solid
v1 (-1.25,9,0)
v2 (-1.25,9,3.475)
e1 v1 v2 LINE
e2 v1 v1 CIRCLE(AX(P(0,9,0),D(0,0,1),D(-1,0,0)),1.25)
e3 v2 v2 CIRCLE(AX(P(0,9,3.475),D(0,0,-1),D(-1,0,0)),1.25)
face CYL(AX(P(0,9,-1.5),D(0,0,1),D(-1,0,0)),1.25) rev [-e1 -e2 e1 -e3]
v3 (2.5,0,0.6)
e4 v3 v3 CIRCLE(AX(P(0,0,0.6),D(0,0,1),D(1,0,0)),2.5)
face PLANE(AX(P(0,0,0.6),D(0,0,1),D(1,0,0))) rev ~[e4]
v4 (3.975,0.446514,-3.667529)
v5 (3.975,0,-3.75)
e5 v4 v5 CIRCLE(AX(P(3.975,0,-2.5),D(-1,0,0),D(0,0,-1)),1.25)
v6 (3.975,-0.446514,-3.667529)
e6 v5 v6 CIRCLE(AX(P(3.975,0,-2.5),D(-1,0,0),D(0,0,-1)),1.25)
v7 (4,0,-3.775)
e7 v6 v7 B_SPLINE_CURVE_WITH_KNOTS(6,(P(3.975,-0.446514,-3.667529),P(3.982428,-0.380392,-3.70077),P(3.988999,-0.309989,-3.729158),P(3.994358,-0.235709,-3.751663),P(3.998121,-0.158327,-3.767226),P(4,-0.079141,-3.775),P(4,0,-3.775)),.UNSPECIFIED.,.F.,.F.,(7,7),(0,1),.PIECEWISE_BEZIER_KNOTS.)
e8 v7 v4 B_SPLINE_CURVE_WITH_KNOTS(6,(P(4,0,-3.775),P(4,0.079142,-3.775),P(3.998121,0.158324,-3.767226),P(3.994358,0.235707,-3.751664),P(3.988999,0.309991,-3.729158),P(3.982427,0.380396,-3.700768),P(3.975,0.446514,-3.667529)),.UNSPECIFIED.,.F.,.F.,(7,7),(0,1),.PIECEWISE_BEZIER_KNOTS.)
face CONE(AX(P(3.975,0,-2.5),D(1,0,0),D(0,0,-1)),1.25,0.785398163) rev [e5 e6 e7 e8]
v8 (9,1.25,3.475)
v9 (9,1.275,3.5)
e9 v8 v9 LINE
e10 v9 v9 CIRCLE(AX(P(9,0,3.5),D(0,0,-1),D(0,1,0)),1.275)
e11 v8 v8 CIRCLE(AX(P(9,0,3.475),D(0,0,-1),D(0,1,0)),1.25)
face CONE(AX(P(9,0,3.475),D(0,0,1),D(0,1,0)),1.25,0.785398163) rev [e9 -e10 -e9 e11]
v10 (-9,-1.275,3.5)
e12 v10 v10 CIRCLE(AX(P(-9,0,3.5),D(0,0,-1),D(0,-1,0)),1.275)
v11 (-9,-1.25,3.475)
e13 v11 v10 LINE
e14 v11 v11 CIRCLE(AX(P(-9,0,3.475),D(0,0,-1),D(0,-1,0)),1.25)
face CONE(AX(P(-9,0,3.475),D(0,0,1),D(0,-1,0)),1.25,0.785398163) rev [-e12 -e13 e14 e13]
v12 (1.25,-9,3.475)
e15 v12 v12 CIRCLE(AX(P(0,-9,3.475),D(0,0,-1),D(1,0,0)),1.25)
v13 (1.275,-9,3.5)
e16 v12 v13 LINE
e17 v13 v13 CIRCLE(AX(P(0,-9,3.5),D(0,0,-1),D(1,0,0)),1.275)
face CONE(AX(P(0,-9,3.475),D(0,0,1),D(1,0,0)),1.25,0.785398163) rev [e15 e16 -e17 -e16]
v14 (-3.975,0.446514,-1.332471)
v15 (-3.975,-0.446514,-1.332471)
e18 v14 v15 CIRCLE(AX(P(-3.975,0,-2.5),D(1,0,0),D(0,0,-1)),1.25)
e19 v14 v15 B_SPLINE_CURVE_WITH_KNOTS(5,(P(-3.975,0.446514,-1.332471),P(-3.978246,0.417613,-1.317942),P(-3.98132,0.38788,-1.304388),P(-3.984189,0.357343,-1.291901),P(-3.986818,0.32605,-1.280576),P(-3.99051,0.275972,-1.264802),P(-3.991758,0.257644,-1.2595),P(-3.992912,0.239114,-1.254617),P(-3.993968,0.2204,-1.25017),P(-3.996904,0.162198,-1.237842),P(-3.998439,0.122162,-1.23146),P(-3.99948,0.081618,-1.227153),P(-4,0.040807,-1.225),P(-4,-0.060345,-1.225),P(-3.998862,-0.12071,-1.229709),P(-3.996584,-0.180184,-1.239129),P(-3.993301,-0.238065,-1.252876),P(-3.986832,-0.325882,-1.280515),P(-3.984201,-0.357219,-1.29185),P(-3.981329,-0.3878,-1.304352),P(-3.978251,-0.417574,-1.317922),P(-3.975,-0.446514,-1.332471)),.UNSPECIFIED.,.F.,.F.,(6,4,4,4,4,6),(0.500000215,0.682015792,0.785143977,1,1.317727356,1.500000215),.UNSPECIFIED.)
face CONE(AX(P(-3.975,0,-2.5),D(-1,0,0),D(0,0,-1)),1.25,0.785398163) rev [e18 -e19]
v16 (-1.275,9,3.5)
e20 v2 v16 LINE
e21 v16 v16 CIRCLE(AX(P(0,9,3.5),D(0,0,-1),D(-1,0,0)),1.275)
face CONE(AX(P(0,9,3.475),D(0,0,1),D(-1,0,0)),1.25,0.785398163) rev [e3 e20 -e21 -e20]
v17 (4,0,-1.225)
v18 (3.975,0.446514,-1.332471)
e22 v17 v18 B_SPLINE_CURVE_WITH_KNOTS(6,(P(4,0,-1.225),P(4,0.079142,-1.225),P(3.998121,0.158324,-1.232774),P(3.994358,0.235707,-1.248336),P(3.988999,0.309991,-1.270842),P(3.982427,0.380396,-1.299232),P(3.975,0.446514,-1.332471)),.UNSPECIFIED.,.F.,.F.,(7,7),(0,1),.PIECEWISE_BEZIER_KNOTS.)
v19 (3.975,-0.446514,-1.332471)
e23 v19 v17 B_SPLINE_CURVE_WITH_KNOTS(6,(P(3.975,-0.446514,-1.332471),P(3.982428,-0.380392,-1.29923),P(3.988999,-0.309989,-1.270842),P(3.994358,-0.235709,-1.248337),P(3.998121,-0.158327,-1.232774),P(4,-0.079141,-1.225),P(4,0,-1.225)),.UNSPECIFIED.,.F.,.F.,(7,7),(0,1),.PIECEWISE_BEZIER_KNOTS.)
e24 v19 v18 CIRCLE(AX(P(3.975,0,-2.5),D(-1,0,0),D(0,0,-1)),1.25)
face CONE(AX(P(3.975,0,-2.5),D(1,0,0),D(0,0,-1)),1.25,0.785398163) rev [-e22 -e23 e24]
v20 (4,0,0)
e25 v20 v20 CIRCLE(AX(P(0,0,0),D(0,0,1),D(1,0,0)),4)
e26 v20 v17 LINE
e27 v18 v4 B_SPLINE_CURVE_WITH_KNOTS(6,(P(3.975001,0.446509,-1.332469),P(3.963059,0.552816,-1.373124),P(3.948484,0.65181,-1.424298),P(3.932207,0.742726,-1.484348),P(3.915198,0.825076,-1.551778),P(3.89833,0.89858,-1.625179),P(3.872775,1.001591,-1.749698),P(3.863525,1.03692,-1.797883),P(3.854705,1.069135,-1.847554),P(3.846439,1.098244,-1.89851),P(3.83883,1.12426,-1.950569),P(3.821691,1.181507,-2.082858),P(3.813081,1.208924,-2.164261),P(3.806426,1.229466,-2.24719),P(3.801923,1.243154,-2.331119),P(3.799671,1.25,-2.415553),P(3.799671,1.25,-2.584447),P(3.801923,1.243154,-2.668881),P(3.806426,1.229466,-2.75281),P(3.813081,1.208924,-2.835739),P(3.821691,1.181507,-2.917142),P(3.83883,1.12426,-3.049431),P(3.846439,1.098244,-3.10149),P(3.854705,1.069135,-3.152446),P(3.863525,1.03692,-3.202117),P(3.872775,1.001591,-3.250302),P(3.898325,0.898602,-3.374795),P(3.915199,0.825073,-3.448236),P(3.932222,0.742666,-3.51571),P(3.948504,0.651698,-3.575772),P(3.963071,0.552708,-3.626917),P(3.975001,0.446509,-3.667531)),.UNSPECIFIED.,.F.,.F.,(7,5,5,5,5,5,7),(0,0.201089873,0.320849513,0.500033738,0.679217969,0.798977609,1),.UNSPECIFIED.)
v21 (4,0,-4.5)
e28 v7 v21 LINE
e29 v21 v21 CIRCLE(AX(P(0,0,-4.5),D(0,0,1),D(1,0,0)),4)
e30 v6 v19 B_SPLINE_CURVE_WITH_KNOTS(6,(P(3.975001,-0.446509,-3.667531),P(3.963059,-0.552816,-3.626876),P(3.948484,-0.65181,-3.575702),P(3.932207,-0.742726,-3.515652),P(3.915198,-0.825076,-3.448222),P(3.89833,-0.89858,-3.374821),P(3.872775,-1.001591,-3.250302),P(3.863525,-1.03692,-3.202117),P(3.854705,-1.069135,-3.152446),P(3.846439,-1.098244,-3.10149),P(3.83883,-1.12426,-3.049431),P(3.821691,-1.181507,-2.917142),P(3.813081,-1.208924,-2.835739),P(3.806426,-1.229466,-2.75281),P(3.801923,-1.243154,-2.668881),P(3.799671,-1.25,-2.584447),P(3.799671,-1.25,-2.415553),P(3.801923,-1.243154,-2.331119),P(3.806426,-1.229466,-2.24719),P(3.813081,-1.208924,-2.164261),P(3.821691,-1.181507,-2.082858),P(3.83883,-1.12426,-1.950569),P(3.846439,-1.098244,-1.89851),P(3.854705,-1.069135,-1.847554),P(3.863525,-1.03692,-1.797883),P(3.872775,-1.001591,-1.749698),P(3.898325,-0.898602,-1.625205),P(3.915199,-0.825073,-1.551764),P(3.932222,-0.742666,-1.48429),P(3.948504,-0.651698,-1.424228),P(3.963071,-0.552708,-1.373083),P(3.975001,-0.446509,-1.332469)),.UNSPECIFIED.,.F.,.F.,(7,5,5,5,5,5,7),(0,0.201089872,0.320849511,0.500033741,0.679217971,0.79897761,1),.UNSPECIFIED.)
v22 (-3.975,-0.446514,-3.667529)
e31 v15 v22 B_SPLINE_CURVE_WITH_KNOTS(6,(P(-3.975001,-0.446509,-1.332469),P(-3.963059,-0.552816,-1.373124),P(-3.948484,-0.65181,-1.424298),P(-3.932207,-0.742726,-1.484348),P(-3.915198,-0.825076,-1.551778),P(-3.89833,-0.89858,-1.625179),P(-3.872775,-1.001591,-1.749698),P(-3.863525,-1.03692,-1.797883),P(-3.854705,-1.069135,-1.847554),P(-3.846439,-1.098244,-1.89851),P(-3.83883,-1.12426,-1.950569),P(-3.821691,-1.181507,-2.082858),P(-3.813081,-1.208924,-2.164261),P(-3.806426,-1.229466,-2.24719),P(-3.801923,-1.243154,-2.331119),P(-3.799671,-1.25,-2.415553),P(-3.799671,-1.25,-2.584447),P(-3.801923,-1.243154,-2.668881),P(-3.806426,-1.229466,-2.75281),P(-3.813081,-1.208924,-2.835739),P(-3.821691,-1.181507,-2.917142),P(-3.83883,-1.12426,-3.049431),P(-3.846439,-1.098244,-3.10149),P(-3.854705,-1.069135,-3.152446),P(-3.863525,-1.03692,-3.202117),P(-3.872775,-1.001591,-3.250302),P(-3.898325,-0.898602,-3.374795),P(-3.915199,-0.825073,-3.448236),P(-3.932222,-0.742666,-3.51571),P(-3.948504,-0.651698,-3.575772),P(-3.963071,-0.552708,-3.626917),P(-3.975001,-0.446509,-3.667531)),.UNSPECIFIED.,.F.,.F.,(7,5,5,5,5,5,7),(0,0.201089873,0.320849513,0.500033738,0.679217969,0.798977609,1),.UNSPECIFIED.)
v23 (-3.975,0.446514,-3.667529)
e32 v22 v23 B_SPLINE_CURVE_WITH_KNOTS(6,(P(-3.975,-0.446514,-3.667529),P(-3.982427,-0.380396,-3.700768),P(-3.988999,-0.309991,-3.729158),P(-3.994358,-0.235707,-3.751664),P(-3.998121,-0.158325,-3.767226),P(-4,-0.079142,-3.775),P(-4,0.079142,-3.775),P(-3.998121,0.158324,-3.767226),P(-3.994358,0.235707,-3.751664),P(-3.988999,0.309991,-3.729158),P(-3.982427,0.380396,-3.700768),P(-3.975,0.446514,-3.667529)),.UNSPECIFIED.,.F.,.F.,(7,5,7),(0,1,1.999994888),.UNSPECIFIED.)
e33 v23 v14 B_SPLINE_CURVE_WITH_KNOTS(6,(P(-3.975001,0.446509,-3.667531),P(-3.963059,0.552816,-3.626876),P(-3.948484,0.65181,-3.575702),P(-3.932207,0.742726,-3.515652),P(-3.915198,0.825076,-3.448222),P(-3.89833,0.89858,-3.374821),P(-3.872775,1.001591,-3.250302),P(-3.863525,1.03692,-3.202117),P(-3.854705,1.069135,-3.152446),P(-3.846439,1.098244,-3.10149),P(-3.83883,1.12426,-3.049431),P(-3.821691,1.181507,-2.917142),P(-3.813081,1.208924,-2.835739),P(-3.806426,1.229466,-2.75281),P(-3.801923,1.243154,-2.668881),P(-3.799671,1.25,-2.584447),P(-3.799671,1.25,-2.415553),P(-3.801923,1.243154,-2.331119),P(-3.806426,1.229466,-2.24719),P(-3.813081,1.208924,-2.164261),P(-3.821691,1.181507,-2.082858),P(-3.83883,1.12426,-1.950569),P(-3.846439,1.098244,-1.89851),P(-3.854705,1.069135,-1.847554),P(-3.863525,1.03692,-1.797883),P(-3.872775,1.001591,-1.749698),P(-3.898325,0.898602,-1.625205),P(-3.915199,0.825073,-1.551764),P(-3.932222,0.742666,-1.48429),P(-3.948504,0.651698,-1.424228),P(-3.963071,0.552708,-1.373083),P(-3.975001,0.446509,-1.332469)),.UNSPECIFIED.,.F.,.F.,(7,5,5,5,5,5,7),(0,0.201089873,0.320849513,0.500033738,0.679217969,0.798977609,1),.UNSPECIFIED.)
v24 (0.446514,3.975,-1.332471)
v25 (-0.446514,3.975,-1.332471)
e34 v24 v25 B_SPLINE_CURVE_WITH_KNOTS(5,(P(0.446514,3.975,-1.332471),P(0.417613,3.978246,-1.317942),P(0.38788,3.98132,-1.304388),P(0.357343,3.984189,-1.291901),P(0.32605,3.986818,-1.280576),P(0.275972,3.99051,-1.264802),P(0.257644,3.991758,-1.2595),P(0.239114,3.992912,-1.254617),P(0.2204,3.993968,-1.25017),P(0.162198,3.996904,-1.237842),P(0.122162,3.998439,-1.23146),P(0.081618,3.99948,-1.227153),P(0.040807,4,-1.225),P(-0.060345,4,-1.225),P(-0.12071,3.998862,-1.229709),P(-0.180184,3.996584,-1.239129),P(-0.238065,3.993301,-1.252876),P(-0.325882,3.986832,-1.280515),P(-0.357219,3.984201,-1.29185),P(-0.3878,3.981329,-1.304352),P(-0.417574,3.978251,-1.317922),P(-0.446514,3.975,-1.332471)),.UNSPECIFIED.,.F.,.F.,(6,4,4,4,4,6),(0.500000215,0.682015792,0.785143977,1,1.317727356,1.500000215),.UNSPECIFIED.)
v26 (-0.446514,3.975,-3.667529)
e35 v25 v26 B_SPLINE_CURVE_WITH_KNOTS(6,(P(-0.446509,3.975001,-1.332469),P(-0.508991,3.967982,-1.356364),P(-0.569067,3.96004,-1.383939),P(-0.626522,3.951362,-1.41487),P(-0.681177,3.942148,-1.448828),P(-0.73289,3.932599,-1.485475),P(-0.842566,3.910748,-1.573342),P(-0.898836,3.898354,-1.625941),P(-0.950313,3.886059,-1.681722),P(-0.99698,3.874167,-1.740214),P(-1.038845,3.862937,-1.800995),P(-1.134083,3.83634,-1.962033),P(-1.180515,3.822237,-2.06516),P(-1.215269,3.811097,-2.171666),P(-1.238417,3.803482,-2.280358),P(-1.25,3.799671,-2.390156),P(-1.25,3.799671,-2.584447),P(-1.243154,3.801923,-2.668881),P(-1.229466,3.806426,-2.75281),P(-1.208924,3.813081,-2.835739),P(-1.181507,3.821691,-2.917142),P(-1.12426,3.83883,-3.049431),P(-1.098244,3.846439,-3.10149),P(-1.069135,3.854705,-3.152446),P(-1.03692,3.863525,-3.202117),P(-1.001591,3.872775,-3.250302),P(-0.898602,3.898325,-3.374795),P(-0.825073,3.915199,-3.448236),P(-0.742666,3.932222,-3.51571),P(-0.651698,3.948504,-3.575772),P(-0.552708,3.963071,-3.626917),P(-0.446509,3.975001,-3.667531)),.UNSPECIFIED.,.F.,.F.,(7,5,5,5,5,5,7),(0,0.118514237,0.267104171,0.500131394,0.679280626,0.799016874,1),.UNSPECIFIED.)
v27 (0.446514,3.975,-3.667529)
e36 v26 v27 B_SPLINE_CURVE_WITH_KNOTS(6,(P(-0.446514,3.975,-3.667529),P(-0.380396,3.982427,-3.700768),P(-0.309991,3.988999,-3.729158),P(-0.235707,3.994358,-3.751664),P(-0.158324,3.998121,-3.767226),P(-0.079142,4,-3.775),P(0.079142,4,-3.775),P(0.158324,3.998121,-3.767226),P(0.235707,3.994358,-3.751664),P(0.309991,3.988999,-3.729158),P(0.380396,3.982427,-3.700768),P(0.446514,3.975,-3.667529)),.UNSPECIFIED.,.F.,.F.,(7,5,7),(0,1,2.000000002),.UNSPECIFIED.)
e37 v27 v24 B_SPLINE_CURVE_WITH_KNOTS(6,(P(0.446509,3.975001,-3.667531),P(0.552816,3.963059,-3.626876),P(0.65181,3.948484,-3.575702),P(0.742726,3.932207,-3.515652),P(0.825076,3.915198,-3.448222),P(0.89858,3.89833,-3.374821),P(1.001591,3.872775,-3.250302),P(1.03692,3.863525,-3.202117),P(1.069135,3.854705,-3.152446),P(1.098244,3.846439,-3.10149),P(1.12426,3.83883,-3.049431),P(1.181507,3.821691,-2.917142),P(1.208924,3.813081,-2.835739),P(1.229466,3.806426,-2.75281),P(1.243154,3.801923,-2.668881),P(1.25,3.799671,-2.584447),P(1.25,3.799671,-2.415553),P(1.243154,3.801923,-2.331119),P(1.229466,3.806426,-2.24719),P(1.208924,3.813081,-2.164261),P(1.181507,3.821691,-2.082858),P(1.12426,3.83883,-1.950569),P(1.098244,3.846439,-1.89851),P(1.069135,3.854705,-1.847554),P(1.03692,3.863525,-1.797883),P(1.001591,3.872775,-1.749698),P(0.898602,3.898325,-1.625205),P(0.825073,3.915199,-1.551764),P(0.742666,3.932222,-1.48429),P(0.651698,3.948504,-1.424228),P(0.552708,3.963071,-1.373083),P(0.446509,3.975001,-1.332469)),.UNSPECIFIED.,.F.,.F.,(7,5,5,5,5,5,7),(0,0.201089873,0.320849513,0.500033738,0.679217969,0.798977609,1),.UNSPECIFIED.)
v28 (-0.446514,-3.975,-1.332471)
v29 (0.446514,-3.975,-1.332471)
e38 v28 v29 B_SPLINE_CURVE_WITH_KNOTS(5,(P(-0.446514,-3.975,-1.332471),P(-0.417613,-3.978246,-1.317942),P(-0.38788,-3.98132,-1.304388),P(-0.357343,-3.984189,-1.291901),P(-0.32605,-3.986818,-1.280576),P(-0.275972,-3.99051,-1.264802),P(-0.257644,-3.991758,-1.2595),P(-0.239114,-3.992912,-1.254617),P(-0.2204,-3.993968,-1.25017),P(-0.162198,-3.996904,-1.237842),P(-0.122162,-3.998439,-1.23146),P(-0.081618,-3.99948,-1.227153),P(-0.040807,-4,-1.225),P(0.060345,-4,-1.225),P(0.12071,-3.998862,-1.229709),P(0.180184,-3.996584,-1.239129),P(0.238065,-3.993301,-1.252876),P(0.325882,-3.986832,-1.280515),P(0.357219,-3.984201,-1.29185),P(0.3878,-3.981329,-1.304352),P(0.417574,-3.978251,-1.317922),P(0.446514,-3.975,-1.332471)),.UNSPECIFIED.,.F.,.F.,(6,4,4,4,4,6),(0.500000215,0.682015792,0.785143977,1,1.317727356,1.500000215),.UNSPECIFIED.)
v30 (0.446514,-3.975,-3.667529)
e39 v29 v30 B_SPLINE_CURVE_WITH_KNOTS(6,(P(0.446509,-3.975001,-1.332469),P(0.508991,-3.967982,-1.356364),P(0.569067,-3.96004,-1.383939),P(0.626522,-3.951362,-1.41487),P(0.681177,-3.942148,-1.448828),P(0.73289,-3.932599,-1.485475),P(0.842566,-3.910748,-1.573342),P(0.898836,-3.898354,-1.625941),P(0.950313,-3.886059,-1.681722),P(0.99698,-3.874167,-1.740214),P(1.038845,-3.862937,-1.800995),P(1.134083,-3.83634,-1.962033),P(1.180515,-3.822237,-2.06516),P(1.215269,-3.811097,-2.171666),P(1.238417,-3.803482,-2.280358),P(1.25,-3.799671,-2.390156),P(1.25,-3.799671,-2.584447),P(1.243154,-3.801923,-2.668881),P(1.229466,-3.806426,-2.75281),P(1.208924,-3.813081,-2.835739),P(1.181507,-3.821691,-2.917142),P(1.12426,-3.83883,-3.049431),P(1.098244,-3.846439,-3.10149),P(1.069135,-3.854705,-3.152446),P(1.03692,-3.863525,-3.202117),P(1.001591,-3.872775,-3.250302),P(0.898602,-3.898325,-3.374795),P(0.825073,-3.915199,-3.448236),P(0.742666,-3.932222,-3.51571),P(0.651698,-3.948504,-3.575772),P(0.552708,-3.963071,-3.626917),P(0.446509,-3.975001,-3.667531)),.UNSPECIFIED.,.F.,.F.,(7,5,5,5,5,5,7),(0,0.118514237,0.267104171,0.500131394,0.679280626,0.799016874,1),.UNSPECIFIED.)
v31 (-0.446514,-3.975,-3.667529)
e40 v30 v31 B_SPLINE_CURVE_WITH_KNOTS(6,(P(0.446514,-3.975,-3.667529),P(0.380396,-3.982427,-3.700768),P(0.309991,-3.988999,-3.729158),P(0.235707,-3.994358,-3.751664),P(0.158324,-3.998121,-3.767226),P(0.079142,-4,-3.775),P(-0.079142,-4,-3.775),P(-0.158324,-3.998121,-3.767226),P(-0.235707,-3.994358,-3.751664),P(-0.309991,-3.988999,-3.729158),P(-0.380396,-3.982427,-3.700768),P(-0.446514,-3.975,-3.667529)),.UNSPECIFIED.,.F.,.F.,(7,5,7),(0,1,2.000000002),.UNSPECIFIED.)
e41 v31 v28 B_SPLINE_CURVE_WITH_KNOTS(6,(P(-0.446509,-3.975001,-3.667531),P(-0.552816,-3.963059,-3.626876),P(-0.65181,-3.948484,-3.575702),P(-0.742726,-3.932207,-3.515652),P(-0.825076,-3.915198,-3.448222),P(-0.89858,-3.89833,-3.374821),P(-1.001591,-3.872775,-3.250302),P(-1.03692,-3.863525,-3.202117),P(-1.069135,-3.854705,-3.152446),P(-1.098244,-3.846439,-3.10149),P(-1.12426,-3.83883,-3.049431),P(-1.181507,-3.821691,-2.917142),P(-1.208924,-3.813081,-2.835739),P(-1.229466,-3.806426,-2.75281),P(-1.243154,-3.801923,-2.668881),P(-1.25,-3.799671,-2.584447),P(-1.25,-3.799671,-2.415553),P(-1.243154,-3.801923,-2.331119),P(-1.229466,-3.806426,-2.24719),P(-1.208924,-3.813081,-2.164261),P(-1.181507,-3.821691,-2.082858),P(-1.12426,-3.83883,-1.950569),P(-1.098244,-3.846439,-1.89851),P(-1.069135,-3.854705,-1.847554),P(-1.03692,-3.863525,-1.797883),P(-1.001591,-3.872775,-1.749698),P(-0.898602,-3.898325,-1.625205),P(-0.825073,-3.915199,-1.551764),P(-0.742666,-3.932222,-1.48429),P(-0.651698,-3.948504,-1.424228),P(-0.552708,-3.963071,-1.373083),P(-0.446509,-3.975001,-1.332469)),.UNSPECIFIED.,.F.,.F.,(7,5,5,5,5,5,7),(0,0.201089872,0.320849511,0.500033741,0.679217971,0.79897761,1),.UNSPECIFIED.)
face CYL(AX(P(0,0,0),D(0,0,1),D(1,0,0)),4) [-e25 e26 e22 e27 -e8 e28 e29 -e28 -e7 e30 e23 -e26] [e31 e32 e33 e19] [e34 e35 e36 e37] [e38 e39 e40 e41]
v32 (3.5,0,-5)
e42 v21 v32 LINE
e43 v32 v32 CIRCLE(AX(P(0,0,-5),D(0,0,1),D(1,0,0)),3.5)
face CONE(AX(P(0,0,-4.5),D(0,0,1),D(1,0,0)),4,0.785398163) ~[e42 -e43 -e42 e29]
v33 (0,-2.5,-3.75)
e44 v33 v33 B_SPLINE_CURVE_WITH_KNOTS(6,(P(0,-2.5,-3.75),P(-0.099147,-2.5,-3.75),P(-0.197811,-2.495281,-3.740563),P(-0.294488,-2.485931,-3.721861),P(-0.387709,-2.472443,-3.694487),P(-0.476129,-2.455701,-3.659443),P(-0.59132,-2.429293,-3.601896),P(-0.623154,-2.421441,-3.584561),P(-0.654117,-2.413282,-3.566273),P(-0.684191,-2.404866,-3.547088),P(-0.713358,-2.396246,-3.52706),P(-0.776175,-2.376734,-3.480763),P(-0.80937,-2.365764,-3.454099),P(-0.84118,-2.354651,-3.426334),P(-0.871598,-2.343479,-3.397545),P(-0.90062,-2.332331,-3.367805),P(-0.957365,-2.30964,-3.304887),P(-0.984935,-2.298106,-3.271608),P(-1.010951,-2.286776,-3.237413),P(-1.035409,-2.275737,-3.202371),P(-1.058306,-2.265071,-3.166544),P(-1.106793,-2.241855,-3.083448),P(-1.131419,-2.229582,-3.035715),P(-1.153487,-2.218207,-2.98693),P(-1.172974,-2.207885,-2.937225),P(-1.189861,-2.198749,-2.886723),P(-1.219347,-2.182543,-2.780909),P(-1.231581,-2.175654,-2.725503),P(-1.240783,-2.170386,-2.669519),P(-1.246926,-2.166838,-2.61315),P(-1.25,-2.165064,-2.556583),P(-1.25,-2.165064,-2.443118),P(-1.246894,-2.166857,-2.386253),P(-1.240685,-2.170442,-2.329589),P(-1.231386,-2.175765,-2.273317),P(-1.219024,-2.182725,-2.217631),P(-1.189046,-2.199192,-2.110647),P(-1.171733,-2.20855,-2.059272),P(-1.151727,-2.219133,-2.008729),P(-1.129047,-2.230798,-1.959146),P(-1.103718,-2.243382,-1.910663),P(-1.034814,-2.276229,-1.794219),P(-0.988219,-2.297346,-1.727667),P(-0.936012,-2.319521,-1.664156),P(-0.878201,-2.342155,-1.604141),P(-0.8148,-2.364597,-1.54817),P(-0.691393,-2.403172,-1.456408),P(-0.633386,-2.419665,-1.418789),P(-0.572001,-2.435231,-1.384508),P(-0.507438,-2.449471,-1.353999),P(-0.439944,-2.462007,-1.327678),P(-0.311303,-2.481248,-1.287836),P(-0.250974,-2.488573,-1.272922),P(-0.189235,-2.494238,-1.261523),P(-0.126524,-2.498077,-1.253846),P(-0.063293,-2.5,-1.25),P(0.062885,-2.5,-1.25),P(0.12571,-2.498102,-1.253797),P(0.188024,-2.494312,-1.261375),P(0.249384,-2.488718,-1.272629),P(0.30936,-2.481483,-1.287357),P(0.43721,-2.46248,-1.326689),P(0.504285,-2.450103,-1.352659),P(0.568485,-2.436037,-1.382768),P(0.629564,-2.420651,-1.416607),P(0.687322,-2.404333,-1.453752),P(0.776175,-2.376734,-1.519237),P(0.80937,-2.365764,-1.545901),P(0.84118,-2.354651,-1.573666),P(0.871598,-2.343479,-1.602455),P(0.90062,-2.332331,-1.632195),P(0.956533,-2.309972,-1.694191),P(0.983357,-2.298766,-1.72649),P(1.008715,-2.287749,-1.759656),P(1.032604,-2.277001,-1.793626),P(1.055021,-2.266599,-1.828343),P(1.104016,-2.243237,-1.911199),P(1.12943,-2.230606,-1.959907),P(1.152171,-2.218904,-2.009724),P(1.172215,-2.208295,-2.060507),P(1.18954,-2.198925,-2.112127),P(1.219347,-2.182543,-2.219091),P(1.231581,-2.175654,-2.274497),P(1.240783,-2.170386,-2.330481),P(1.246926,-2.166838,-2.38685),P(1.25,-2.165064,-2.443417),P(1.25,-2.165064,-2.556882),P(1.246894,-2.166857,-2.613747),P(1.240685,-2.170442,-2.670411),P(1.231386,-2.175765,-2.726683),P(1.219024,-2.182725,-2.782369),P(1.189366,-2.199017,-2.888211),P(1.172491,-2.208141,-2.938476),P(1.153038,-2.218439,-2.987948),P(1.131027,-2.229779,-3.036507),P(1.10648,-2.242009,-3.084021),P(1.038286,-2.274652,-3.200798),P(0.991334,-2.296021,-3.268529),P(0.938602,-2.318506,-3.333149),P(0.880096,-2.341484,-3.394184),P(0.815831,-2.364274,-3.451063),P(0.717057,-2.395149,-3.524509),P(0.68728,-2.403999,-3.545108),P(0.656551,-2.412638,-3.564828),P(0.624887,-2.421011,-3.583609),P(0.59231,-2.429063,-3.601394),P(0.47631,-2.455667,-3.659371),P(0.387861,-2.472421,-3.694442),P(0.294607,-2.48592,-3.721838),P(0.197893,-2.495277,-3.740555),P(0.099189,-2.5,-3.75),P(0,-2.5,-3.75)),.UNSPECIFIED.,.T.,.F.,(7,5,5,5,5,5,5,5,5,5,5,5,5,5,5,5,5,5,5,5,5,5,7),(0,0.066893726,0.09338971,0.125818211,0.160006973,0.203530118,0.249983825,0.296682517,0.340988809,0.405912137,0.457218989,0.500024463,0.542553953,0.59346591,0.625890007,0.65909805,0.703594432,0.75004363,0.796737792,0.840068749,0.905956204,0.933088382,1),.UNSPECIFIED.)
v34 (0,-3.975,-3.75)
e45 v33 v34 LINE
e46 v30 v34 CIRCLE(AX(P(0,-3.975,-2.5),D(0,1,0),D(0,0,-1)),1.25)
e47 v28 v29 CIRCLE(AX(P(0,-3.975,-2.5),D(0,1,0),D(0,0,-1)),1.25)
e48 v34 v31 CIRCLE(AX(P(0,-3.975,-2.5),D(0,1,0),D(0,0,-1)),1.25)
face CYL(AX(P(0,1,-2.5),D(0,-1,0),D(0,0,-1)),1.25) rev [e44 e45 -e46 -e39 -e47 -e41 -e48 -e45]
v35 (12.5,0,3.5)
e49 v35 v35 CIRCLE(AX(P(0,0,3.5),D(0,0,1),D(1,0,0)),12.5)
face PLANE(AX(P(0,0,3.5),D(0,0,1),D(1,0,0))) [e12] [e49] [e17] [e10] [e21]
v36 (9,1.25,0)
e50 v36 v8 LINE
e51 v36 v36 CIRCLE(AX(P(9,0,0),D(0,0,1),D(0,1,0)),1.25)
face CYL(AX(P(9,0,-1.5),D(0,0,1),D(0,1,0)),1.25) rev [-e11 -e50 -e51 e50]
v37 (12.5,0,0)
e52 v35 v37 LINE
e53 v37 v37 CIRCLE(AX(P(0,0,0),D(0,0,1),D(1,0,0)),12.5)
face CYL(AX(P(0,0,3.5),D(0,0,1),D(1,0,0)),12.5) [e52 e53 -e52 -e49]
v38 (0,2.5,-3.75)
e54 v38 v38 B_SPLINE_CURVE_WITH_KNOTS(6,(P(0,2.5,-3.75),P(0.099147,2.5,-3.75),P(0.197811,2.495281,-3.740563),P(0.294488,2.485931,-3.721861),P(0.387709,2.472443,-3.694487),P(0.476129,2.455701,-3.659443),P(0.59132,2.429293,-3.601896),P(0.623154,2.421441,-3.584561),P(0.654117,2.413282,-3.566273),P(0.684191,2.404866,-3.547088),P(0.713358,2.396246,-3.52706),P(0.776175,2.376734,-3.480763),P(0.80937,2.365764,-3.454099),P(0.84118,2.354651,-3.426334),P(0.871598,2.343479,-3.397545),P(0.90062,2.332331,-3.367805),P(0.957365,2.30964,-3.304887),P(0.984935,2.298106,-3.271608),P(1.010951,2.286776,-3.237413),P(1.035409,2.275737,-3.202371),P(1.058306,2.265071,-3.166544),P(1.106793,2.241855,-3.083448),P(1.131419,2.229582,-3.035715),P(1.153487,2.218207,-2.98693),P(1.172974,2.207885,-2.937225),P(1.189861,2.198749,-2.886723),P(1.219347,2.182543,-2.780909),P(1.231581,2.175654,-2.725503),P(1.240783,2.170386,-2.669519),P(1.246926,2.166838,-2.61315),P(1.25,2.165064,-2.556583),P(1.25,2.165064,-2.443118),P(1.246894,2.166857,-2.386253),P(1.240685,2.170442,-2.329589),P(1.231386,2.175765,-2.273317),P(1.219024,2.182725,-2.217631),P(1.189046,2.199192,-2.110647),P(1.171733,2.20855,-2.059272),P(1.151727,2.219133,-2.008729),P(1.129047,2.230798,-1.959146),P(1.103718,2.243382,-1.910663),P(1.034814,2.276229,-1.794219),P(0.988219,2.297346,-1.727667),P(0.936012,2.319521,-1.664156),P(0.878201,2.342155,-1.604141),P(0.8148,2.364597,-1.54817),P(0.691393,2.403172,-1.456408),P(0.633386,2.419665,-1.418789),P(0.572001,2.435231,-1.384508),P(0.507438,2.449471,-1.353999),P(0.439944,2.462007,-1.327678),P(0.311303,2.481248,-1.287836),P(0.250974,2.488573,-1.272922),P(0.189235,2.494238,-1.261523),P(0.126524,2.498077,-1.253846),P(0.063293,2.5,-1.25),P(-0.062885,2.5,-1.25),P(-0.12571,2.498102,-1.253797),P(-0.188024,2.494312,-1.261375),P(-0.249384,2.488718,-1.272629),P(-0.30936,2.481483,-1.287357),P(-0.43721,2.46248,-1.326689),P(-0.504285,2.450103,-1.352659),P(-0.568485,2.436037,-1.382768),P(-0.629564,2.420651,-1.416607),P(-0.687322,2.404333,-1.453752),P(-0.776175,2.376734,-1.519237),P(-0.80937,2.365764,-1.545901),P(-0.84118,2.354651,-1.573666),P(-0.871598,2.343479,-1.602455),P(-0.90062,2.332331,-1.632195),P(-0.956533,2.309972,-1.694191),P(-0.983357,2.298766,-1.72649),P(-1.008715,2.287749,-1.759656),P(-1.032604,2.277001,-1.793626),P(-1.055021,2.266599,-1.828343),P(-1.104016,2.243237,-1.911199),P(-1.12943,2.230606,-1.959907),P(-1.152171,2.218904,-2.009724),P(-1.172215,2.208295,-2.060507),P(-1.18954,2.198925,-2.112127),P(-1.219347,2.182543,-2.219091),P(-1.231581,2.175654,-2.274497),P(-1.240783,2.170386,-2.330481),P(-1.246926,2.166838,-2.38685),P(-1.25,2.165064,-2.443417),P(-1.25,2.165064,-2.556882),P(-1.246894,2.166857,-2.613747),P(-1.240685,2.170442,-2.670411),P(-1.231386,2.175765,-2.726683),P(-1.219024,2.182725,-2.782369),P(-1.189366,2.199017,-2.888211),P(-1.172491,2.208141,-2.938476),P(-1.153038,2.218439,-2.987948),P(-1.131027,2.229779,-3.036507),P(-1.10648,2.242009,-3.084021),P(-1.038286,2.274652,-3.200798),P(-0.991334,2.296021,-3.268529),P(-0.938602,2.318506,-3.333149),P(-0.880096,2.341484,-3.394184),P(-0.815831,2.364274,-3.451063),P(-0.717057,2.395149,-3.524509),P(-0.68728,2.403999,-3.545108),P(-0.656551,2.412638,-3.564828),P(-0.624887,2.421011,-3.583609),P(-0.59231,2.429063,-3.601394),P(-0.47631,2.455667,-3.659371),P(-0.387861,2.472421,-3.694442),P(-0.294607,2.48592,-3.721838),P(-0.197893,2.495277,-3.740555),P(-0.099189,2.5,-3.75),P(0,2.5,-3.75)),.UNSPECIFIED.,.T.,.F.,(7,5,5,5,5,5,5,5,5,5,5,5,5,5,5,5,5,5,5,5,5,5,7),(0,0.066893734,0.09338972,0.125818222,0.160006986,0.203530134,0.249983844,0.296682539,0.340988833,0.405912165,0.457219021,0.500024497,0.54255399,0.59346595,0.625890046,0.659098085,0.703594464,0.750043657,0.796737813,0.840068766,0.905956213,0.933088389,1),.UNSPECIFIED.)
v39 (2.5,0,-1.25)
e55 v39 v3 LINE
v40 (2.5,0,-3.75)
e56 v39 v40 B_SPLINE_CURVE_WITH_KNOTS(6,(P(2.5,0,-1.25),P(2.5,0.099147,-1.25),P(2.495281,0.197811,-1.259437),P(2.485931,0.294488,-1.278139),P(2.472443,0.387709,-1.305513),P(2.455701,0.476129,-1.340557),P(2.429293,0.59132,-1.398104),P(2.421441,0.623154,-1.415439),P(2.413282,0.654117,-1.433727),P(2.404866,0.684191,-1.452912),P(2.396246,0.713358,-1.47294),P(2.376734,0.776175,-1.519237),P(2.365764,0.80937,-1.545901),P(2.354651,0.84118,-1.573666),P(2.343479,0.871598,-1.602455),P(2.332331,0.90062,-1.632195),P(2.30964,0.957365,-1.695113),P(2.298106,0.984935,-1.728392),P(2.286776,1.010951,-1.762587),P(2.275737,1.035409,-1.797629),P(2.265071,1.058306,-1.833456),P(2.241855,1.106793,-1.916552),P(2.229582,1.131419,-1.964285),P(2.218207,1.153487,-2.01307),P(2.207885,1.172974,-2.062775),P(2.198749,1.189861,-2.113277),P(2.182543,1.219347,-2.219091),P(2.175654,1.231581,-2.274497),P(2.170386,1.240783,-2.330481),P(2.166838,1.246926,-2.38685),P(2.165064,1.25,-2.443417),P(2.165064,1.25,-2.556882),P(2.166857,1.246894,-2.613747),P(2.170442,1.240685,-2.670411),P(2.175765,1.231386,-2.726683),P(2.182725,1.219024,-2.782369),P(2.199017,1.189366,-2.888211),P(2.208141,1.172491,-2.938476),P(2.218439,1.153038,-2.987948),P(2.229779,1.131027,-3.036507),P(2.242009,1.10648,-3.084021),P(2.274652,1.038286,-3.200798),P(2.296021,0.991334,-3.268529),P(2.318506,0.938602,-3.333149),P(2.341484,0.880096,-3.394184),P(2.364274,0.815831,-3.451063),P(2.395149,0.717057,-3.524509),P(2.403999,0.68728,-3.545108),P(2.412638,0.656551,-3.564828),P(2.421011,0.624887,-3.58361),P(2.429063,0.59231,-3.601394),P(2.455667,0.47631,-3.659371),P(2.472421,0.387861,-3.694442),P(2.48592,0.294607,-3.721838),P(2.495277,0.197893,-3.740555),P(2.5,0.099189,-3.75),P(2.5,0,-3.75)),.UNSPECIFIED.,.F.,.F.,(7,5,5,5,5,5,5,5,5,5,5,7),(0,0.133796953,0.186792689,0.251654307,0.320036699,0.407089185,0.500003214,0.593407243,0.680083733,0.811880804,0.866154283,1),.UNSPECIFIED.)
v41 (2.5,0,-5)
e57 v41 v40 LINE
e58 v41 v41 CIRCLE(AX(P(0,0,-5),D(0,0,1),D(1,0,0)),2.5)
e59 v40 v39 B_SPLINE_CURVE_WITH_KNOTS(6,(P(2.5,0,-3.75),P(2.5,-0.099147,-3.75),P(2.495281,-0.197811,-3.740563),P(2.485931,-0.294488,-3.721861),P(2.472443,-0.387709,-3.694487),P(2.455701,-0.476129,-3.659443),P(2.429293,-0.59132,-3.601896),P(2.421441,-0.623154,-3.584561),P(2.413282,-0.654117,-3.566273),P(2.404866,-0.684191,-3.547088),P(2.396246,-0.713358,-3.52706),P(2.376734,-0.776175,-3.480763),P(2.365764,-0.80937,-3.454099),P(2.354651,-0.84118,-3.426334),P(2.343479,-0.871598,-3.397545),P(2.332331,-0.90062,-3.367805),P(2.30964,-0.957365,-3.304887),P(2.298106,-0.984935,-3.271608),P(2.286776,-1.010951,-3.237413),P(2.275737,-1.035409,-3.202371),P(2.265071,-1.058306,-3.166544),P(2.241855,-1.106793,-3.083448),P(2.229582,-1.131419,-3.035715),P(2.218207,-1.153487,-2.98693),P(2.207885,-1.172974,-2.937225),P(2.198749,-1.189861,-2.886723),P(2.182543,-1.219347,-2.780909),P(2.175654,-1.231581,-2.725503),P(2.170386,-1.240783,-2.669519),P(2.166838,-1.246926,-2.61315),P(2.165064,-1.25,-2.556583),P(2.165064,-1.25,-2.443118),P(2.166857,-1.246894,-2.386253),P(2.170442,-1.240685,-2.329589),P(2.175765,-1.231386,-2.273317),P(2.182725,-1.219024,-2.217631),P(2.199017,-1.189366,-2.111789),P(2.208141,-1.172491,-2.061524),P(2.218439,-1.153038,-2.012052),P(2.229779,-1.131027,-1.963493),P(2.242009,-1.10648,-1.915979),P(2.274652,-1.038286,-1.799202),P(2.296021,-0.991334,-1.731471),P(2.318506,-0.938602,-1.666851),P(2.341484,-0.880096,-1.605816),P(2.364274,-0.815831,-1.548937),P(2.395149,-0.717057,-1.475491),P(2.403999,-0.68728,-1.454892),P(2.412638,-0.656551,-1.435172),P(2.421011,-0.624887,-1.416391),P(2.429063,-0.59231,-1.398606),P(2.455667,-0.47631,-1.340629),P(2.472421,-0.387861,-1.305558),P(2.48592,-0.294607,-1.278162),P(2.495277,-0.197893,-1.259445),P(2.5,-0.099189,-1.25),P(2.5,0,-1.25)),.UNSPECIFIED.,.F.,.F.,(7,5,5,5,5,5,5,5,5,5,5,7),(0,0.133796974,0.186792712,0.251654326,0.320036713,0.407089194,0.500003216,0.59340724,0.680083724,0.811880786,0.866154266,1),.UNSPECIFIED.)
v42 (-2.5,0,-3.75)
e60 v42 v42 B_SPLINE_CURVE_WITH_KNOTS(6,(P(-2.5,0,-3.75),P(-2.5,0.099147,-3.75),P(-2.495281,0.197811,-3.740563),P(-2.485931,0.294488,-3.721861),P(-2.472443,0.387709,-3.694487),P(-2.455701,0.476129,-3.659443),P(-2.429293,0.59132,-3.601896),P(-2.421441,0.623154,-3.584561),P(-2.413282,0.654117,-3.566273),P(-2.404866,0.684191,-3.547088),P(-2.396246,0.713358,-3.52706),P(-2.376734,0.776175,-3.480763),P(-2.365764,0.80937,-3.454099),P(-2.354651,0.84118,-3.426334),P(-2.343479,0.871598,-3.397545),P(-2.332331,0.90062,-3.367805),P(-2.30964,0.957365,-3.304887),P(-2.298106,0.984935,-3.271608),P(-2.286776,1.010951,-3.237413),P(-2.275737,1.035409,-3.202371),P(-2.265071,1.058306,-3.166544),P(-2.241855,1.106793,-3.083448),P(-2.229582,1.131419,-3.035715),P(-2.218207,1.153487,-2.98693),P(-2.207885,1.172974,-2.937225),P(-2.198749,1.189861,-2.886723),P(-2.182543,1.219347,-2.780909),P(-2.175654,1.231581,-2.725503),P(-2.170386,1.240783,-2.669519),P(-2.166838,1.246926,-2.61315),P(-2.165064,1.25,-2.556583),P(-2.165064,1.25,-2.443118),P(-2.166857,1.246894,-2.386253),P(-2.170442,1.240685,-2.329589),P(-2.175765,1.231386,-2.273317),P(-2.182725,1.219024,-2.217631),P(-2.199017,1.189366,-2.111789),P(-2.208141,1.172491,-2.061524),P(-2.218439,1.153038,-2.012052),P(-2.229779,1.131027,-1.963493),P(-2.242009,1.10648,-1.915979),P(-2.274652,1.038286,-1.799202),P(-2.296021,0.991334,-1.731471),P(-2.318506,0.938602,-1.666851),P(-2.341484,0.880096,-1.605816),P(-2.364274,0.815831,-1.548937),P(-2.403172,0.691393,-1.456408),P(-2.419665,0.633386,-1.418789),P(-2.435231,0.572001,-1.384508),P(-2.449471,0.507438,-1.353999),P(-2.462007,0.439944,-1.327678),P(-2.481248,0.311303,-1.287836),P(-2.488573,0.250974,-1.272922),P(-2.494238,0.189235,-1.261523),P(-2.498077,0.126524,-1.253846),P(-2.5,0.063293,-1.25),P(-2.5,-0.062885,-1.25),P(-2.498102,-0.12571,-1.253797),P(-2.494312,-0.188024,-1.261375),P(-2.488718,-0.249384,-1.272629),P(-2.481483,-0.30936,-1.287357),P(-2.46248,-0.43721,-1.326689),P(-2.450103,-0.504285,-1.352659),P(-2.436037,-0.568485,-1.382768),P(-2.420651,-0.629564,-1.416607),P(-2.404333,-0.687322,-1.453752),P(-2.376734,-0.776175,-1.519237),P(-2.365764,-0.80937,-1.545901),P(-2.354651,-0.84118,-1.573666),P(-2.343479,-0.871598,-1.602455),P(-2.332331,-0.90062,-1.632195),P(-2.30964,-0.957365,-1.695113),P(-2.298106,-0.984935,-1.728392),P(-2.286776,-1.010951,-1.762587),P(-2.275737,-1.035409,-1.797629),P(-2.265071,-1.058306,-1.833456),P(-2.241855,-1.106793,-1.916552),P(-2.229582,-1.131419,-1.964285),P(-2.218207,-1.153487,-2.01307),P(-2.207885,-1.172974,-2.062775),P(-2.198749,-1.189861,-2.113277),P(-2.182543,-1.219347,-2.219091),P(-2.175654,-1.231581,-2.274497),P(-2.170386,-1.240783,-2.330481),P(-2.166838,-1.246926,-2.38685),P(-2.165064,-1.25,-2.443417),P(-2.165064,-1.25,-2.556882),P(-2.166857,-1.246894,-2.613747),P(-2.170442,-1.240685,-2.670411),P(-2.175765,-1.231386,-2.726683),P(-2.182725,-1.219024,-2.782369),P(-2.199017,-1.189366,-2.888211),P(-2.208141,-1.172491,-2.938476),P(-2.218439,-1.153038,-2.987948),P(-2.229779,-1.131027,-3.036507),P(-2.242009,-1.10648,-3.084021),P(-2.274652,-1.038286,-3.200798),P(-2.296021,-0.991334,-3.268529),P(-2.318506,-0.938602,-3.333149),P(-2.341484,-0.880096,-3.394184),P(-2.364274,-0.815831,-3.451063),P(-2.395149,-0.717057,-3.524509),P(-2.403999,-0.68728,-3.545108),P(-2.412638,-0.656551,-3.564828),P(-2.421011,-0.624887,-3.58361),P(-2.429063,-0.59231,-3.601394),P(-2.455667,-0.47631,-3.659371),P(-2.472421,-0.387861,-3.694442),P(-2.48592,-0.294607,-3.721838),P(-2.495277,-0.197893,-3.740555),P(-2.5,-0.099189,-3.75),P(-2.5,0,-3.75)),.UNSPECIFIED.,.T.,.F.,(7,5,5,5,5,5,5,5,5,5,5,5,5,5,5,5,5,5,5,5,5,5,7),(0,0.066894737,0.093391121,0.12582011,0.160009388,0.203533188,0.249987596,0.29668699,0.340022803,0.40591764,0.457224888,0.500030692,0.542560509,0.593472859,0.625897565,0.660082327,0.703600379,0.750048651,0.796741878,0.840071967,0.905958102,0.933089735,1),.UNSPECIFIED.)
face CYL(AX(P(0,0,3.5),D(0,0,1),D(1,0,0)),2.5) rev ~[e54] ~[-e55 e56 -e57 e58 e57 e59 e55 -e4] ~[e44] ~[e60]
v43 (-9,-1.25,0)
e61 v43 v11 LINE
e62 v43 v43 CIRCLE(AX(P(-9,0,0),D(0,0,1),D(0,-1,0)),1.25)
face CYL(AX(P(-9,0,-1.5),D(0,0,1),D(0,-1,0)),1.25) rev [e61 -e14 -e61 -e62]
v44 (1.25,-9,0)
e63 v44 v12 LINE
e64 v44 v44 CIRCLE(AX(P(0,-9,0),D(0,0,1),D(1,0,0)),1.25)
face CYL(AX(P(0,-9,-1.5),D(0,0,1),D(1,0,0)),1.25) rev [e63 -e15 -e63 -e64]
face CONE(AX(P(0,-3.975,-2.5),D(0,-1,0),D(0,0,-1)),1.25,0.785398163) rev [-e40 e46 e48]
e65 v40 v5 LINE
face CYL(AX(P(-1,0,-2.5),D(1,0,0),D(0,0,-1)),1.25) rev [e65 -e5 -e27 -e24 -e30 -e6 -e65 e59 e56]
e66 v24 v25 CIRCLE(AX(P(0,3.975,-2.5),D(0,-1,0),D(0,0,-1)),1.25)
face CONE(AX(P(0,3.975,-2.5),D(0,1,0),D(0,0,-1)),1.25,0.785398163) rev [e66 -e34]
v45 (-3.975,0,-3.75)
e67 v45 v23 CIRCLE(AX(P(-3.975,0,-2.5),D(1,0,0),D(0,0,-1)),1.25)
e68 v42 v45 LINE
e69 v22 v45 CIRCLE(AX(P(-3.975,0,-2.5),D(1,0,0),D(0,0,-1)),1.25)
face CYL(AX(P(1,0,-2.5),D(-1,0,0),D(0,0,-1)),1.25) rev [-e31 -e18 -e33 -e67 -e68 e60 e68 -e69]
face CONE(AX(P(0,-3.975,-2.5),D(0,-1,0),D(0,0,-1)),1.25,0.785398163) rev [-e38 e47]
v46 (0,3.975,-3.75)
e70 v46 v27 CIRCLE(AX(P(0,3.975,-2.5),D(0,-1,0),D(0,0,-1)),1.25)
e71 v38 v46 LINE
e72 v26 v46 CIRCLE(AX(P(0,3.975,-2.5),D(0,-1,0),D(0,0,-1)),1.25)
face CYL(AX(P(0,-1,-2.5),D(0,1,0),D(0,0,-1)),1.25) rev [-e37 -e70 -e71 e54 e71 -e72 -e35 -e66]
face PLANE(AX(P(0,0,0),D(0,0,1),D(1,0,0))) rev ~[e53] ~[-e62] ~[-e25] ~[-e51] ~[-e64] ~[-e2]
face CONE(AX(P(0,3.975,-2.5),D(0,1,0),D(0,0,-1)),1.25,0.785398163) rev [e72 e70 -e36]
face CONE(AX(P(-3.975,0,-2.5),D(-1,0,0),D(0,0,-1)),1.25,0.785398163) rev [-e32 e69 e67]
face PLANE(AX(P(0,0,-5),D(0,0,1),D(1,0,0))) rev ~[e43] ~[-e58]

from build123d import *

# Parameters (mm, degrees)
SKETCH1_R           = 4
SKETCH1_R_2         = 2.5
BOSS_EXTRUDE1_DEPTH = 5
BOSS_EXTRUDE2_START = 3.5
SKETCH2_R           = 12.5
SKETCH2_R_2         = 2.5
BOSS_EXTRUDE2_DEPTH = 3.5
CIRPATTERN1_COUNT   = 4
CIRPATTERN2_COUNT   = 4
CHAMFER1_SIZE       = 0.5
SKETCH9_R           = 2.5
BOSS_EXTRUDE3_DEPTH = 2.9


with BuildPart() as part:
    # Sketch1 → Boss-Extrude1 (new body)
    with BuildSketch(Plane.XY):
        Circle(SKETCH1_R)
        Circle(SKETCH1_R_2, mode=Mode.SUBTRACT)
    extrude(amount=-BOSS_EXTRUDE1_DEPTH)

    # Sketch2 → Boss-Extrude2 (add)
    with BuildSketch(Plane.XY.offset(BOSS_EXTRUDE2_START)):
        Circle(SKETCH2_R)
        Circle(SKETCH2_R_2, mode=Mode.SUBTRACT)
    extrude(amount=-BOSS_EXTRUDE2_DEPTH)

    # Sketch6 → Tap Drill for M3 Tap1 (revolve, cut)
    with BuildSketch(Plane(origin=(4, 0, -2.5), x_dir=(0, 0, -1), z_dir=(0, 1, 0))):
        Polygon((0, 0), (0, 5.751075774), (1.25, 5), (1.25, 0.025), (1.275, 0), align=None)
    tap_drill_for_m3_tap1 = revolve(axis=Axis((10.35, 0, -2.5), (-1, 0, 0)), mode=Mode.SUBTRACT)

    # Sketch8 → Tap Drill for M3 Tap2 (revolve, cut)
    with BuildSketch(Plane(origin=(-9, 0, 3.5), x_dir=(0, -1, 0), z_dir=(1, 0, 0))):
        Polygon((0, 0), (0, 5.751075774), (1.25, 5), (1.25, 0.025), (1.275, 0), align=None)
    tap_drill_for_m3_tap2 = revolve(axis=Axis((-9, 0, 9.85), (0, 0, -1)), mode=Mode.SUBTRACT)

    # CirPattern1: Tap Drill for M3 Tap2 ×4 about axis
    cirpattern1_axis = Axis((0, 0, 0), (0, 0, 1))
    for i in range(1, CIRPATTERN1_COUNT):
        add(tap_drill_for_m3_tap2.rotate(cirpattern1_axis, i * 360 / CIRPATTERN1_COUNT), mode=Mode.SUBTRACT)

    # CirPattern2: Tap Drill for M3 Tap1 ×4 about axis
    cirpattern2_axis = Axis((0, 0, 0), (0, 0, 1))
    for i in range(1, CIRPATTERN2_COUNT):
        add(tap_drill_for_m3_tap1.rotate(cirpattern2_axis, i * 360 / CIRPATTERN2_COUNT), mode=Mode.SUBTRACT)

    # Chamfer1
    chamfer1_edges = [part.edges().sort_by_distance(p)[0] for p in [
        (-4, 0, -5),
    ]]
    chamfer(chamfer1_edges, length=CHAMFER1_SIZE)

    # Sketch9 → Boss-Extrude3 (add)
    with BuildSketch(Plane.XY.offset(3.5)):
        Circle(SKETCH9_R)
    extrude(amount=-BOSS_EXTRUDE3_DEPTH)


solid = part.part
